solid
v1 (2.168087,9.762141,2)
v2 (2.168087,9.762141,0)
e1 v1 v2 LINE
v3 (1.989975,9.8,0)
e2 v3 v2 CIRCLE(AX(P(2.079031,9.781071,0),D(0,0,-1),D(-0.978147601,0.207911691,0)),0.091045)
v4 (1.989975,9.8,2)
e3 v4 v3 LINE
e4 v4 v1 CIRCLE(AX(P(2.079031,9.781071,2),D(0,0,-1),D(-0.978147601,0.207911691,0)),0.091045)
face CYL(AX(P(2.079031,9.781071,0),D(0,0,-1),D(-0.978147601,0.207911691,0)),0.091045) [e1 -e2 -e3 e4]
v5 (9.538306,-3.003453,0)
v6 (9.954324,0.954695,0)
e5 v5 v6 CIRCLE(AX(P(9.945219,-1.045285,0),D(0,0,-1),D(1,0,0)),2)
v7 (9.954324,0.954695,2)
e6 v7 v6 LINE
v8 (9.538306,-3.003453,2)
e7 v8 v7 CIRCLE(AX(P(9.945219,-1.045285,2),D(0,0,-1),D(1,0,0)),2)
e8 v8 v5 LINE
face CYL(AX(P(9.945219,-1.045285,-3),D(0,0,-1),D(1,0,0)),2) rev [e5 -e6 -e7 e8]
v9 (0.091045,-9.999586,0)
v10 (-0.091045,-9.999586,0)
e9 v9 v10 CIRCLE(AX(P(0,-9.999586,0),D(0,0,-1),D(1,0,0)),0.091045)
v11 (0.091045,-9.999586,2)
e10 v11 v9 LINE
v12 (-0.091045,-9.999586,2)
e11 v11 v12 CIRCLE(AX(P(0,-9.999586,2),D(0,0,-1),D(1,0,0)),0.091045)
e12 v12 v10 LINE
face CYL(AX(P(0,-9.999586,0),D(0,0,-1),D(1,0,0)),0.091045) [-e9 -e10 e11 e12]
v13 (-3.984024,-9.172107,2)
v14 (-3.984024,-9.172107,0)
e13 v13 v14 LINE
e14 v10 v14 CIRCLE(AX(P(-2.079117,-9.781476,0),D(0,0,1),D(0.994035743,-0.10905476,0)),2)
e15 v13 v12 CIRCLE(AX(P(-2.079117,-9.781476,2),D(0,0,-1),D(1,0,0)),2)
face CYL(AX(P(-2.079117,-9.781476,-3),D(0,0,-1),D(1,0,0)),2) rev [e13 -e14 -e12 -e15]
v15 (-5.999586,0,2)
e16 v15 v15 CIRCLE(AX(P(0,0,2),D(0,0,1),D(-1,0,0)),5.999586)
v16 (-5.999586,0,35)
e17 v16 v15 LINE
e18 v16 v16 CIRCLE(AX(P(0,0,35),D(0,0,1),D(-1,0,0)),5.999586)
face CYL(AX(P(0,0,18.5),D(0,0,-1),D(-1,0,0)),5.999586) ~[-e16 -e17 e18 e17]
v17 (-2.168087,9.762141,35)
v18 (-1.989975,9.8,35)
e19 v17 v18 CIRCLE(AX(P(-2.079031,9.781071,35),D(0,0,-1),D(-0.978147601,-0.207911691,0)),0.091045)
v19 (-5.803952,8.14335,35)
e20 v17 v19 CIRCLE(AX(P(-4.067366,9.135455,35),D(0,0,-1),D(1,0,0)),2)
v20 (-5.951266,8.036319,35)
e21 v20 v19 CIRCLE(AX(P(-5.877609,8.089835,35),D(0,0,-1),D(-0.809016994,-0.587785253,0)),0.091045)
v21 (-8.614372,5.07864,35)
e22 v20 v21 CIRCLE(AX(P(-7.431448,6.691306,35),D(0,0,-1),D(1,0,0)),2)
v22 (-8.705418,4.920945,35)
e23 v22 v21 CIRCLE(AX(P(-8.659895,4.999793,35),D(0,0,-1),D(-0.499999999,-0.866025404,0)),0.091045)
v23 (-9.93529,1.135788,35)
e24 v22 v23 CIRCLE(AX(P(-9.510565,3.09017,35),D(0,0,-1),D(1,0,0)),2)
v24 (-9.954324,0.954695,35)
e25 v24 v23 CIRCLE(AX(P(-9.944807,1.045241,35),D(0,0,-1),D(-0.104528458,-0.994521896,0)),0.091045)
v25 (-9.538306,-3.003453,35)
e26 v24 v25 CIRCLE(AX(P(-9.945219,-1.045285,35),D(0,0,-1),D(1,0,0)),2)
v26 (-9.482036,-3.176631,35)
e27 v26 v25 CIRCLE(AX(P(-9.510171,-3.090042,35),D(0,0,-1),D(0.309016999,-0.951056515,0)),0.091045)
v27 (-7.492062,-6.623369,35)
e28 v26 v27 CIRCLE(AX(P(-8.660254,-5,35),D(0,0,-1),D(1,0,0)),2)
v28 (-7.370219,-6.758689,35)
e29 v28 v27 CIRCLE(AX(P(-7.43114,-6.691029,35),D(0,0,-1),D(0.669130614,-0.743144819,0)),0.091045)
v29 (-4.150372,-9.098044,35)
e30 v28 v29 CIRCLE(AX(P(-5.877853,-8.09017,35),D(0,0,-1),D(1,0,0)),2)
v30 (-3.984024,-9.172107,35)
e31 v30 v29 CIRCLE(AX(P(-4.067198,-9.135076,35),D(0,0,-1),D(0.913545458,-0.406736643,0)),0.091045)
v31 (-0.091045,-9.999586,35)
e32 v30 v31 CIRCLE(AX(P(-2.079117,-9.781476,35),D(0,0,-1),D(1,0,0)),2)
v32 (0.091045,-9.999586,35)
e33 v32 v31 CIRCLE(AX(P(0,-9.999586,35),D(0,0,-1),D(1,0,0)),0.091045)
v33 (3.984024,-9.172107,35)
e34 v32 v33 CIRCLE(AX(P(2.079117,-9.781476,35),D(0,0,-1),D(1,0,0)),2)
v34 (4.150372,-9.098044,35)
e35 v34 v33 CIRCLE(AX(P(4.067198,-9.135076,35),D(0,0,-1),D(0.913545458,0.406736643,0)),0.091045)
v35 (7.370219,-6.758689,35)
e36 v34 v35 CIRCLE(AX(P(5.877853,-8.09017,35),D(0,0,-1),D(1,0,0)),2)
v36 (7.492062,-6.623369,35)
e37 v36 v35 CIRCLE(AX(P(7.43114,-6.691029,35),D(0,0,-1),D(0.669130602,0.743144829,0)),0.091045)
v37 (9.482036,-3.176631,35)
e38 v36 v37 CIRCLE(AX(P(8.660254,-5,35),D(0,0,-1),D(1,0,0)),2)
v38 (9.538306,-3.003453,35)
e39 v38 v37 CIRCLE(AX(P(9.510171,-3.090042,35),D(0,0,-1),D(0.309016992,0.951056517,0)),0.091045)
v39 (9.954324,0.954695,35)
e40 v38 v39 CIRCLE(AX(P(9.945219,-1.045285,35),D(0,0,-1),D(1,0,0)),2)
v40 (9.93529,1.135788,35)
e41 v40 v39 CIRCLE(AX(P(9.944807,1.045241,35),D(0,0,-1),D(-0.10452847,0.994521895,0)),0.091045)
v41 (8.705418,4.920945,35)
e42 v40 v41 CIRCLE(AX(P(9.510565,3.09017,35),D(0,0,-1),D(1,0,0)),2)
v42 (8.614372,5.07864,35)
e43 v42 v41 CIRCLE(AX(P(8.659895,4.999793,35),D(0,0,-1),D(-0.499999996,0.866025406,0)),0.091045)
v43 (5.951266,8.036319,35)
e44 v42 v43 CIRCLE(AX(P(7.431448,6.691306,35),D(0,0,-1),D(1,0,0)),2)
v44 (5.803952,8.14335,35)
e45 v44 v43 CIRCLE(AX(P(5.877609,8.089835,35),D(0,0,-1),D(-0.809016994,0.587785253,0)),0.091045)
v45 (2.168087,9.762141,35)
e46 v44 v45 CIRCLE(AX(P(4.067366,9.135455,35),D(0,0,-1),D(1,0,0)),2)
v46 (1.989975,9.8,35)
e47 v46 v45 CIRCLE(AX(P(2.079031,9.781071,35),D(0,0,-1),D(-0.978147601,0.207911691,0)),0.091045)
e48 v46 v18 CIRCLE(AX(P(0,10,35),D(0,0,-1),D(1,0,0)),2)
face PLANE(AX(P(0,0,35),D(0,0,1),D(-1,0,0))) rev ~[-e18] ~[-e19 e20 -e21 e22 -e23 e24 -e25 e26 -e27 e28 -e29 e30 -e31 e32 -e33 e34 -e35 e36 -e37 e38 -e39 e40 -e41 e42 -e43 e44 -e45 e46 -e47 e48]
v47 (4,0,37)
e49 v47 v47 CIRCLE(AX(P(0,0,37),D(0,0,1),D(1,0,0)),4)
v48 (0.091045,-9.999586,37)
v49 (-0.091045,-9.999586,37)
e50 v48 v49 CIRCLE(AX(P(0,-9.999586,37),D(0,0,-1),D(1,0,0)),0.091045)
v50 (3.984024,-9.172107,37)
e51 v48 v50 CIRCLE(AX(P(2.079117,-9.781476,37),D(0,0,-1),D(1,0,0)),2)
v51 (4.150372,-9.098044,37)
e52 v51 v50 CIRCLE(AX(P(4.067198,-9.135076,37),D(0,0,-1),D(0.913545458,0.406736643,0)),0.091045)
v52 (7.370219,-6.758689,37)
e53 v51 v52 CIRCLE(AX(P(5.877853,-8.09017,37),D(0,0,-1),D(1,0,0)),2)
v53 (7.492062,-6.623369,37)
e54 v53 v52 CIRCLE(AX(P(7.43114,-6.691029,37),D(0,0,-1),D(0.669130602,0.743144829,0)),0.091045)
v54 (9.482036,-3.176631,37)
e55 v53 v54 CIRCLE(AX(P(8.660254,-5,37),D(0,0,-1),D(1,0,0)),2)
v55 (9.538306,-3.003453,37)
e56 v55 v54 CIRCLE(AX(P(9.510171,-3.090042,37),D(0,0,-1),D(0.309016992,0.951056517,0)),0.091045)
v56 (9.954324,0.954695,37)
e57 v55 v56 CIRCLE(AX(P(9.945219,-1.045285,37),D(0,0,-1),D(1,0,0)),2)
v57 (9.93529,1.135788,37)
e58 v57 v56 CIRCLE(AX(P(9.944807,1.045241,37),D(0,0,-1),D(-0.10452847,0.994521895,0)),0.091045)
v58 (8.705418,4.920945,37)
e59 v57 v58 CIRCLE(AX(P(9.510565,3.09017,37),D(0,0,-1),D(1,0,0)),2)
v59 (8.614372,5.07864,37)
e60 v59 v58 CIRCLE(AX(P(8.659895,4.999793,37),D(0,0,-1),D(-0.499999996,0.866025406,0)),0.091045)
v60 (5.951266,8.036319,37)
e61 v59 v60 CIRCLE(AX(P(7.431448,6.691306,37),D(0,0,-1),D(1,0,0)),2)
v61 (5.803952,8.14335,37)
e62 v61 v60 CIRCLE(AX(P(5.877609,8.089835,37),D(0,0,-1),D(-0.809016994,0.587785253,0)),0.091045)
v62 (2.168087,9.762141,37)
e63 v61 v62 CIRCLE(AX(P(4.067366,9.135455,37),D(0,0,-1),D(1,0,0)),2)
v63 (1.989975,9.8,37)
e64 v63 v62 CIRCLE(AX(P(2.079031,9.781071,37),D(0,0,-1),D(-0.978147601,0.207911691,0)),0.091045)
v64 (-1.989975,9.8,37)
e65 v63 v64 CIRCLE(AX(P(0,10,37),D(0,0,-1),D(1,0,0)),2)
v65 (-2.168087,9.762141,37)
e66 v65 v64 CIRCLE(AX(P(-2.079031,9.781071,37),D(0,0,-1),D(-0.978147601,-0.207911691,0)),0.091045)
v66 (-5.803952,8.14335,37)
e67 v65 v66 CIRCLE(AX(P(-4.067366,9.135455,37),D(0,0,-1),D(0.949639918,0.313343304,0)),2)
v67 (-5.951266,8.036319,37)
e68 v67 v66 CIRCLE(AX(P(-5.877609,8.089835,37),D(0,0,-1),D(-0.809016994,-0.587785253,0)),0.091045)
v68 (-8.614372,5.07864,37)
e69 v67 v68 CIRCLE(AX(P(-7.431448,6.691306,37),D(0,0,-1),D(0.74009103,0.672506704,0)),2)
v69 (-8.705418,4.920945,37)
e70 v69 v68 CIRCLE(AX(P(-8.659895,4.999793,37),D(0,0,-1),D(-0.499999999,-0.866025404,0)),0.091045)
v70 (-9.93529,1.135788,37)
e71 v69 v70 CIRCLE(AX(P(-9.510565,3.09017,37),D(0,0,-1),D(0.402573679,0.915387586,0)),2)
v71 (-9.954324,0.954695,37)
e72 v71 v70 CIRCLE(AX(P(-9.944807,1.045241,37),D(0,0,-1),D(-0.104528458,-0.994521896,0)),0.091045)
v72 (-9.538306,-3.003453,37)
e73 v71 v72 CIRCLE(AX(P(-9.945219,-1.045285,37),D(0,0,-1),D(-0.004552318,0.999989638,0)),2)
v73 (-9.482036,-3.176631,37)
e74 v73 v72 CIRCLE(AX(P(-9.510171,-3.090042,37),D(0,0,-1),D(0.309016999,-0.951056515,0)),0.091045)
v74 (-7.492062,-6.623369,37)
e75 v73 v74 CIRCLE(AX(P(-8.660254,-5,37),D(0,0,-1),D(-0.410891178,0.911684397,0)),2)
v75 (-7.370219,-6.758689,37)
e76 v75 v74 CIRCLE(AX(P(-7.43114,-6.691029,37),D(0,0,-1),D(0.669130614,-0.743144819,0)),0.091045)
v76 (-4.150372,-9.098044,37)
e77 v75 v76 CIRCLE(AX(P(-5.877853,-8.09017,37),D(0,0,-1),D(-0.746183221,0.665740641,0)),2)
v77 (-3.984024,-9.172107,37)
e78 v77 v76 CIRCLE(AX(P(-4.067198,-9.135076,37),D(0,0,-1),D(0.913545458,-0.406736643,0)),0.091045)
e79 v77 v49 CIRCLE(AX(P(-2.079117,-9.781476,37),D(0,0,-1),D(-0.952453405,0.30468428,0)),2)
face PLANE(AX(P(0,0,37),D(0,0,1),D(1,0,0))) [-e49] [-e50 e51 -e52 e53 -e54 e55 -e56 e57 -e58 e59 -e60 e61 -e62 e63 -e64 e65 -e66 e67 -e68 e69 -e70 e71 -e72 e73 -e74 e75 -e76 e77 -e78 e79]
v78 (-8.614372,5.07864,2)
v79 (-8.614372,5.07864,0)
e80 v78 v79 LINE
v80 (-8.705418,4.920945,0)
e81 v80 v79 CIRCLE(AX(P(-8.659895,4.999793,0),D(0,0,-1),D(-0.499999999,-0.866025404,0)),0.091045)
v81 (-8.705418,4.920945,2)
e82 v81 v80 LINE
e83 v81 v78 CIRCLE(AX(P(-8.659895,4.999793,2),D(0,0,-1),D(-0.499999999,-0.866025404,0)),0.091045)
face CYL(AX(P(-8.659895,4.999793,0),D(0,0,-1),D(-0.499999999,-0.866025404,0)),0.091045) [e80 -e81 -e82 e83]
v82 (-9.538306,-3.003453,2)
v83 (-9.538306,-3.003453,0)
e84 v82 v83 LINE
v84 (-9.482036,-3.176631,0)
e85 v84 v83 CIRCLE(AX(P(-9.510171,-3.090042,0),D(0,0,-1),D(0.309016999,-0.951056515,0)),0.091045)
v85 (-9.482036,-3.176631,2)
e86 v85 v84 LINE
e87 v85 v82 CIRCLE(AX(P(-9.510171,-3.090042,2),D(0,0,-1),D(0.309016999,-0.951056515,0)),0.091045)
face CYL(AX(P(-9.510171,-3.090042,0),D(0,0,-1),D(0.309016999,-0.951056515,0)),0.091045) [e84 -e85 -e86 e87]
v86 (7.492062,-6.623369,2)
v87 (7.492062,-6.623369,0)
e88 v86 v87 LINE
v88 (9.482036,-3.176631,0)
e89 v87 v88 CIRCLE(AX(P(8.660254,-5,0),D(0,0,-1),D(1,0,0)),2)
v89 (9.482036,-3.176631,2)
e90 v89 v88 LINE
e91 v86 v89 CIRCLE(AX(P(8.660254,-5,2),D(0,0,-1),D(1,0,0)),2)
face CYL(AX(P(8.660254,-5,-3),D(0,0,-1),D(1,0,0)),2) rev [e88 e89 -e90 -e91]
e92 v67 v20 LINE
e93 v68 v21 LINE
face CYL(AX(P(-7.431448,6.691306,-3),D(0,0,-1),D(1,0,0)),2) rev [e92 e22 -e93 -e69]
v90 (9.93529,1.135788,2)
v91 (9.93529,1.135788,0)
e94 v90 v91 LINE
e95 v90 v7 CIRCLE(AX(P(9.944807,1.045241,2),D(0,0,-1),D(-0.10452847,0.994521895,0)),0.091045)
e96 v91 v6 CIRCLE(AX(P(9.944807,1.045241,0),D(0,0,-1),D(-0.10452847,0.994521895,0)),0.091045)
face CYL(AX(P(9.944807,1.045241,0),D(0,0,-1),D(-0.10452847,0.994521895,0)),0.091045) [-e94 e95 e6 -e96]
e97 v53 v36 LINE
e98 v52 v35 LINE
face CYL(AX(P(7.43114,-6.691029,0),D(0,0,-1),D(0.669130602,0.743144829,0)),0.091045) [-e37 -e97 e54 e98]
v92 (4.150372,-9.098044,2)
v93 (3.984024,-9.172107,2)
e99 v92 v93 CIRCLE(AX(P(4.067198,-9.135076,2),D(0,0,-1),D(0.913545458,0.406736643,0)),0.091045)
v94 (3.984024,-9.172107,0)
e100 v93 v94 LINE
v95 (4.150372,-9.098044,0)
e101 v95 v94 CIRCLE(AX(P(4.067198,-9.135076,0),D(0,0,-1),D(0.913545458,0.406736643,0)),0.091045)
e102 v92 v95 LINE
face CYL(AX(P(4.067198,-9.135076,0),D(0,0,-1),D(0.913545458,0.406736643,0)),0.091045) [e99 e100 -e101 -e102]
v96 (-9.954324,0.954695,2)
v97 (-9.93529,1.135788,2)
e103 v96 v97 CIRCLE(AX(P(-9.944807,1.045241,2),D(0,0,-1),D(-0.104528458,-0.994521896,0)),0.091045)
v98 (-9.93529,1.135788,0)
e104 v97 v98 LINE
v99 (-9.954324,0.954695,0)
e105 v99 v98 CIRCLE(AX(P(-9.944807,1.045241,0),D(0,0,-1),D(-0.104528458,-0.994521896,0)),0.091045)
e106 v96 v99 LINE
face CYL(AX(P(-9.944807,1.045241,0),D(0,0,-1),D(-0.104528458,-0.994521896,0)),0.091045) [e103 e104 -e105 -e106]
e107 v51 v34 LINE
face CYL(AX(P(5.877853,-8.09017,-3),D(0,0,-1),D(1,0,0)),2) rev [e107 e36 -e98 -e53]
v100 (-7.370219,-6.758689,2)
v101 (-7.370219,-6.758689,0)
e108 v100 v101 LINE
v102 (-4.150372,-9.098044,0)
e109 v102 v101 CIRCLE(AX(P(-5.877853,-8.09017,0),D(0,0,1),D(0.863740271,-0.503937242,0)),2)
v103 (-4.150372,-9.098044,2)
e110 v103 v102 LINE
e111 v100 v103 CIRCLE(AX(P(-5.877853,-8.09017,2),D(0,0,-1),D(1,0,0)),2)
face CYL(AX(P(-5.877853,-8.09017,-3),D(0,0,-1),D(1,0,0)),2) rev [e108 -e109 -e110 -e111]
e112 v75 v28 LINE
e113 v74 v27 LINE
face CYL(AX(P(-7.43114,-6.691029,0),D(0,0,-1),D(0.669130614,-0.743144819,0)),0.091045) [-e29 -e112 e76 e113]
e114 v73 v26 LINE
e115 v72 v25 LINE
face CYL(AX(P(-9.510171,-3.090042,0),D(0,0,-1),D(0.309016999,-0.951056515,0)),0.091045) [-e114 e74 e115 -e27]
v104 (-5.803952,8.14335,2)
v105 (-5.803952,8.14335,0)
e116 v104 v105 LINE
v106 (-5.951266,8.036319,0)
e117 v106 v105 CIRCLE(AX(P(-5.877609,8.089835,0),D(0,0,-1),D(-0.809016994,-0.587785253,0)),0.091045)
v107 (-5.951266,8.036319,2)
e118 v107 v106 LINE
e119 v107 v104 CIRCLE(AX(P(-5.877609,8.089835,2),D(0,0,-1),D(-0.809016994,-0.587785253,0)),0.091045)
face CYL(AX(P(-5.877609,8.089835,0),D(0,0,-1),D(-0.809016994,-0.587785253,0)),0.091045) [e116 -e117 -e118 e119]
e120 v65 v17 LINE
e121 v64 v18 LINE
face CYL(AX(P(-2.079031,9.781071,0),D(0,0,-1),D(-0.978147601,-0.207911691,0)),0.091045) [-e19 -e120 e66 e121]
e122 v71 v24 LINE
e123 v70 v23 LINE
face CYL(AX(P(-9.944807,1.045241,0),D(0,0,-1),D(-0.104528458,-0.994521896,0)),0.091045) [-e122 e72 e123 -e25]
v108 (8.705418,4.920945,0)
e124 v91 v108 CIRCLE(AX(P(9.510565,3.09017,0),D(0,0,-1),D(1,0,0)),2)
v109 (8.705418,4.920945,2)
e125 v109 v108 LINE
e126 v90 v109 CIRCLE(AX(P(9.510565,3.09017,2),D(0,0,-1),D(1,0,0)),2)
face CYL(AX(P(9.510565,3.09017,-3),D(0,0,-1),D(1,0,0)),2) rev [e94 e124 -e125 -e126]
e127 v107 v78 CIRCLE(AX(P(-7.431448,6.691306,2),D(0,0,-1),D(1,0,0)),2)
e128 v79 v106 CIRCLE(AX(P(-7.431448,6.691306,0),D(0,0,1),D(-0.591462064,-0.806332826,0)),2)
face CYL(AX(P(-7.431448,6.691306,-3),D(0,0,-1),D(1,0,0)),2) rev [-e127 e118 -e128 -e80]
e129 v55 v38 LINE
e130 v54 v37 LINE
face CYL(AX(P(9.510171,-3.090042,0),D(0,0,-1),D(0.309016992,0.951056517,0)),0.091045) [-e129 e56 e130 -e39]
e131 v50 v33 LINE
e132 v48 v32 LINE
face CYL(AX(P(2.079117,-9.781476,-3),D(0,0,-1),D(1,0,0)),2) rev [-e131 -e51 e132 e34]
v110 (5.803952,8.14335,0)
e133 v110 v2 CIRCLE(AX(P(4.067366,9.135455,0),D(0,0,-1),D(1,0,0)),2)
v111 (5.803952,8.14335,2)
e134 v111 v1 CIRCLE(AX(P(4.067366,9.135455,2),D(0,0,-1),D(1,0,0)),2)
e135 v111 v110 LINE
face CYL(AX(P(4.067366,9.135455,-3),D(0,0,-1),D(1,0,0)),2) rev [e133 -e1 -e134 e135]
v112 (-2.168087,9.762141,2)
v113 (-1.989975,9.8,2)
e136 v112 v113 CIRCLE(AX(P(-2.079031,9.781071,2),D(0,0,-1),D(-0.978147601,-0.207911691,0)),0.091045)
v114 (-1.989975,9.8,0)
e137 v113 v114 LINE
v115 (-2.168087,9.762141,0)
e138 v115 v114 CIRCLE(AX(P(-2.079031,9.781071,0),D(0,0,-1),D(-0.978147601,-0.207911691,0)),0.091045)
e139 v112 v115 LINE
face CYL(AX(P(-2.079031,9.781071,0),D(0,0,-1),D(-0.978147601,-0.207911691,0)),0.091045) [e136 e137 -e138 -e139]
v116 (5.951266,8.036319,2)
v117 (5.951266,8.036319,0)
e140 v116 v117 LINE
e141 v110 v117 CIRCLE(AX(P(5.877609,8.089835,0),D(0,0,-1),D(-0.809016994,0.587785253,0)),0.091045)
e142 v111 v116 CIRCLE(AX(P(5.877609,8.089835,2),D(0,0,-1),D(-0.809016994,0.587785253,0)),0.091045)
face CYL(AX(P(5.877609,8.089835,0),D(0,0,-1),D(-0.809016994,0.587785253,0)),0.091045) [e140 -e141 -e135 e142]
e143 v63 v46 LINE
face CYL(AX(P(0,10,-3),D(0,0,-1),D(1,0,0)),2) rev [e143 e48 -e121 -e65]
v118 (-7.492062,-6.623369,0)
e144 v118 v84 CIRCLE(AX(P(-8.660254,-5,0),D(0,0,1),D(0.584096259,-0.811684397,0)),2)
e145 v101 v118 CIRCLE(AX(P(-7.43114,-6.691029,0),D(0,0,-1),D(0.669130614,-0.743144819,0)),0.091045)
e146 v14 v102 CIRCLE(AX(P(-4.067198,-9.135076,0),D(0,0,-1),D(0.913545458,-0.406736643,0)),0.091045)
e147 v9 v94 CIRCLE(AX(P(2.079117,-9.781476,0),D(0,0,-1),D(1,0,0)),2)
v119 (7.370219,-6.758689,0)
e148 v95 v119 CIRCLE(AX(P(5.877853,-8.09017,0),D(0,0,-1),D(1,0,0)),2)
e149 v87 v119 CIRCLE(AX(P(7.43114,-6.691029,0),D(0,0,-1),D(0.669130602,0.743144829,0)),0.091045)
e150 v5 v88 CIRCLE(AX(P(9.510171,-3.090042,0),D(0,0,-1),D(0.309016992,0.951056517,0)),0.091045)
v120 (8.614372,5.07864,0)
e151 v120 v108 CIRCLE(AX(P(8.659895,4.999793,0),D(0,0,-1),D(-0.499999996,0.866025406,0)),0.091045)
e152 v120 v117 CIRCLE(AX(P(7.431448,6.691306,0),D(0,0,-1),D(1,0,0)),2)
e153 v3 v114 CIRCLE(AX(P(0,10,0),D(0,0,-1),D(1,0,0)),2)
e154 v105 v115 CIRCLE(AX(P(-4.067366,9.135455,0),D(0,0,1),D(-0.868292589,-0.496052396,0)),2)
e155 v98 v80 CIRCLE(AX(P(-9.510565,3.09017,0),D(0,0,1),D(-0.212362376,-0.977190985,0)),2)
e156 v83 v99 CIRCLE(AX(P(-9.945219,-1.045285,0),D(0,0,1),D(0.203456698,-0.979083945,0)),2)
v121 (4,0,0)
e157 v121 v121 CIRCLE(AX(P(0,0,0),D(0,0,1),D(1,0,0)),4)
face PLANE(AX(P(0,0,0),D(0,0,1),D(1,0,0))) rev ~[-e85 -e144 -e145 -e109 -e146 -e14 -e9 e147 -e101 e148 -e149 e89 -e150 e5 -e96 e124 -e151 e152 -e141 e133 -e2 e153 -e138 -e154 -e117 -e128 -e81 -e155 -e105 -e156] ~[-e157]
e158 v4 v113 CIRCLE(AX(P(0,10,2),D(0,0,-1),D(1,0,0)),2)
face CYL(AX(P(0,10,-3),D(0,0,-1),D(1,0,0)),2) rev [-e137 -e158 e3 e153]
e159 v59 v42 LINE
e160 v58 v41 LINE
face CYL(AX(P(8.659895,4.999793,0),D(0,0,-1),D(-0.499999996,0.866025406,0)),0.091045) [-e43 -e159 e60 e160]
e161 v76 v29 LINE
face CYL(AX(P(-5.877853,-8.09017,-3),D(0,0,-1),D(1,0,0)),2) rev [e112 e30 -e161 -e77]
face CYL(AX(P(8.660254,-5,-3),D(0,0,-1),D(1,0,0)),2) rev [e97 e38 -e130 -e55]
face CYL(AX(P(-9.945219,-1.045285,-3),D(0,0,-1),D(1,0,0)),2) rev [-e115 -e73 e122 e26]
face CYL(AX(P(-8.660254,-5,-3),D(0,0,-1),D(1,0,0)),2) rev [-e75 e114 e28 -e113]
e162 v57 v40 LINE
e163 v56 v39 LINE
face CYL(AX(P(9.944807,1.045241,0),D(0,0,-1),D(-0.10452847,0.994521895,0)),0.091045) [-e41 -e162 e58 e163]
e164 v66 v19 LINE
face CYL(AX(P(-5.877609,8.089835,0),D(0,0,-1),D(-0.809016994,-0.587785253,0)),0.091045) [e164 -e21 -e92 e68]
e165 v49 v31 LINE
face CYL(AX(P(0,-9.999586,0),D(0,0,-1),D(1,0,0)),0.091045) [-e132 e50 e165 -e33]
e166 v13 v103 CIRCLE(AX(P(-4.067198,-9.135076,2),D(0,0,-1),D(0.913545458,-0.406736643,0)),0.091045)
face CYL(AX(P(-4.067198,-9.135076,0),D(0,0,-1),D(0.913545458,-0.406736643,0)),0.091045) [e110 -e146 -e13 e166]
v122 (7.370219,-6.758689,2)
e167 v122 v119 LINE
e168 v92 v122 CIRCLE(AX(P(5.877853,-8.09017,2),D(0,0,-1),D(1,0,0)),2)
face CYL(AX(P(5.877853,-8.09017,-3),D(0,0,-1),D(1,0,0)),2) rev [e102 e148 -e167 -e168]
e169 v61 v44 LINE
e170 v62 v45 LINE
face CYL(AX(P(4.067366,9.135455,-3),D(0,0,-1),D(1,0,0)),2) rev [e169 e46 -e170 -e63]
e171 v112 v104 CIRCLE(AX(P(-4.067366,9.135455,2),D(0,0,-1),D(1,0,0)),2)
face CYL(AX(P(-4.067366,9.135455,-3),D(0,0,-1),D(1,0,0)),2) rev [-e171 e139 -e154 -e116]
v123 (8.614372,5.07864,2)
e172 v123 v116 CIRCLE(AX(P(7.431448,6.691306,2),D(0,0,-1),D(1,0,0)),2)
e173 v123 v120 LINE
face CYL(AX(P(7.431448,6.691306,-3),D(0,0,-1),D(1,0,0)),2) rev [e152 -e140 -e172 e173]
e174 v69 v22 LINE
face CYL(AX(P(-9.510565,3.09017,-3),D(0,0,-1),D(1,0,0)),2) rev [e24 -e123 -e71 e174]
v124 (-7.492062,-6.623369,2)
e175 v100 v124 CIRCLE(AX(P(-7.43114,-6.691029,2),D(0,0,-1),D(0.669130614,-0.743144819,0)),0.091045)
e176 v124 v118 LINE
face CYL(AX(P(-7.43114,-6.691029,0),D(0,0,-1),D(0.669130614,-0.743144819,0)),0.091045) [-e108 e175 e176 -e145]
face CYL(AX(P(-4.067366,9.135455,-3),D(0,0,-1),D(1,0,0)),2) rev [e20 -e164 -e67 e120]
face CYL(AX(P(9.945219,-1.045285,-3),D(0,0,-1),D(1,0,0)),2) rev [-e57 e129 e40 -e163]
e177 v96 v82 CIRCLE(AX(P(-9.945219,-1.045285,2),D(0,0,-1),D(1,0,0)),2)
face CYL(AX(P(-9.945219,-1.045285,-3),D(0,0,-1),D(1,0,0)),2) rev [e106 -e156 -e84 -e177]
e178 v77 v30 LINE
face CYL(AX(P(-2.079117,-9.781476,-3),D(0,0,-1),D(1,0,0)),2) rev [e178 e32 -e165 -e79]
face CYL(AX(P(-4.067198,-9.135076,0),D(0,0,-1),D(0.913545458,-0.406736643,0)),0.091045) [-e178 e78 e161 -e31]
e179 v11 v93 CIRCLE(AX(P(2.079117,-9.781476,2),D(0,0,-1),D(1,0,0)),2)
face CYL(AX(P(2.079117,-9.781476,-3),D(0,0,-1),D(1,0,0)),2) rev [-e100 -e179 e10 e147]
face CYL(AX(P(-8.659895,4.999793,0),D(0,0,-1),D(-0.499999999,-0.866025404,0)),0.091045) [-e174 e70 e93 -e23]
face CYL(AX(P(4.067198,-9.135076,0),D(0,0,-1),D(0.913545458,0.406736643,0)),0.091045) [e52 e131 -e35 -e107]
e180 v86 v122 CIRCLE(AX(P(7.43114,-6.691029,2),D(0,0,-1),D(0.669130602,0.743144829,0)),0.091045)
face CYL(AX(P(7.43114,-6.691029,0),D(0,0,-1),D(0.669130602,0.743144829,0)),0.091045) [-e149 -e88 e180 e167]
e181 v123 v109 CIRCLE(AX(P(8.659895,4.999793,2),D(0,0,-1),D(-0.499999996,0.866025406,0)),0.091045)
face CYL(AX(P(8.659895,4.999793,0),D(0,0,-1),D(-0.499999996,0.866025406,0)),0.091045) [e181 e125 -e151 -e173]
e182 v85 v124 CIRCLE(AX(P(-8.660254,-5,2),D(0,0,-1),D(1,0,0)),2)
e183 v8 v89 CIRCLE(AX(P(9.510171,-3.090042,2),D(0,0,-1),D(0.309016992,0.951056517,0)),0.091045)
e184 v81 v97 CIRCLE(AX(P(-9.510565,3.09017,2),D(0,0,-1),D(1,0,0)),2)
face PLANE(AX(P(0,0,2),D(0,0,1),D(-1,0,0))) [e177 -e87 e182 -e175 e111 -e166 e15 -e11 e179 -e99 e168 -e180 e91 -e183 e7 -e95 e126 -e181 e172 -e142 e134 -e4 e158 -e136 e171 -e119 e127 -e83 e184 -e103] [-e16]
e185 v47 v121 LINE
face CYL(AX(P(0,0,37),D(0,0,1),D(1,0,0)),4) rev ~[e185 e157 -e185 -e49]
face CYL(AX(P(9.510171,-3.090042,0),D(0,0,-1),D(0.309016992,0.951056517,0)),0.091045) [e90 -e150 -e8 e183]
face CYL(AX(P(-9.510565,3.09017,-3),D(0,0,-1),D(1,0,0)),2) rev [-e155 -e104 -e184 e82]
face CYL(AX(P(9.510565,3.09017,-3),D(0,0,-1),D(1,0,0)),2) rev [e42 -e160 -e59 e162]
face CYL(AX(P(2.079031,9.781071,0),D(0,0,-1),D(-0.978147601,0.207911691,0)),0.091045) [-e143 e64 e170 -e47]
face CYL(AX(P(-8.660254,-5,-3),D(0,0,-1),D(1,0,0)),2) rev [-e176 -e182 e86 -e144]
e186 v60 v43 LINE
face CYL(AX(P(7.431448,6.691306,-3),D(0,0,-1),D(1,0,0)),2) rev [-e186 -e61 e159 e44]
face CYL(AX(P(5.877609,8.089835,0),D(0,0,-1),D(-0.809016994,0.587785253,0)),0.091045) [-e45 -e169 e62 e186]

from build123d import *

# Parameters (mm, degrees)
SKETCH1_R               = 10
BOSS_EXTRUDE1_DEPTH     = 37
CUT_EXTRUDE1_DEPTH      = 10
CUT_EXTRUDE1_DEPTH_BACK = 40
SKETCH2_R               = 2
BOSS_EXTRUDE3_DEPTH     = 37
SKETCH4_R               = 4
CUT_EXTRUDE2_DEPTH      = 40
SKETCH6_W               = 33
SKETCH6_H               = 6.863237298


with BuildPart() as part:
    # Sketch1 → Boss-Extrude1 (new body)
    with BuildSketch(Plane.XY):
        Circle(SKETCH1_R)
    extrude(amount=BOSS_EXTRUDE1_DEPTH)

    # Sketch2 → Cut-Extrude1 (cut, two sides: drawn at the far end of the back side and taken through both)
    with BuildSketch(Plane.XY.offset(37).offset(-CUT_EXTRUDE1_DEPTH_BACK)):
        with Locations((0, 10)):
            Circle(SKETCH2_R)
        with Locations((4.067366431, 9.135454576)):
            Circle(SKETCH2_R)
        with Locations((7.431448255, 6.691306064)):
            Circle(SKETCH2_R)
        with Locations((9.510565163, 3.090169944)):
            Circle(SKETCH2_R)
        with Locations((9.945218954, -1.045284633)):
            Circle(SKETCH2_R)
        with Locations((8.660254038, -5)):
            Circle(SKETCH2_R)
        with Locations((5.877852523, -8.090169944)):
            Circle(SKETCH2_R)
        with Locations((2.079116908, -9.781476007)):
            Circle(SKETCH2_R)
        with Locations((-2.079116908, -9.781476007)):
            Circle(SKETCH2_R)
        with Locations((-5.877852523, -8.090169944)):
            Circle(SKETCH2_R)
        with Locations((-8.660254038, -5)):
            Circle(SKETCH2_R)
        with Locations((-9.945218954, -1.045284633)):
            Circle(SKETCH2_R)
        with Locations((-9.510565163, 3.090169944)):
            Circle(SKETCH2_R)
        with Locations((-7.431448255, 6.691306064)):
            Circle(SKETCH2_R)
        with Locations((-4.067366431, 9.135454576)):
            Circle(SKETCH2_R)
    extrude(amount=CUT_EXTRUDE1_DEPTH + CUT_EXTRUDE1_DEPTH_BACK, mode=Mode.SUBTRACT)

    # Sketch3 → Boss-Extrude3 (add)
    with BuildSketch(Plane.XY):
        with BuildLine():
            Line((2.168086595, 9.762141185), (1.989974874, 9.8))
            ThreePointArc((1.989974874, 9.8), (2.097960142, 9.870126453), (2.168086595, 9.762141185))
        make_face()
        with BuildLine():
            Line((5.951266195, 8.036319473), (5.803951609, 8.143349785))
            ThreePointArc((5.803951609, 8.143349785), (5.931124058, 8.163491922), (5.951266195, 8.036319473))
        make_face()
        with BuildLine():
            Line((8.705417805, 4.920945116), (8.614372384, 5.078640412))
            ThreePointArc((8.614372384, 5.078640412), (8.738742742, 5.045315475), (8.705417805, 4.920945116))
        make_face()
        with BuildLine():
            Line((9.95432359, 0.954694644), (9.935289914, 1.135787973))
            ThreePointArc((9.935289914, 1.135787973), (10.035353417, 1.054758147), (9.95432359, 0.954694644))
        make_face()
        with BuildLine():
            Line((9.482036394, -3.176631206), (9.538305559, -3.003452524))
            ThreePointArc((9.538305559, -3.003452524), (9.596760318, -3.118176447), (9.482036394, -3.176631206))
        make_face()
        with BuildLine():
            Line((7.370218964, -6.758688661), (7.49206152, -6.623368794))
            ThreePointArc((7.49206152, -6.623368794), (7.498800176, -6.751950006), (7.370218964, -6.758688661))
        make_face()
        with BuildLine():
            Line((3.984023719, -9.172107446), (4.150371981, -9.098044428))
            ThreePointArc((4.150371981, -9.098044428), (4.104229359, -9.218250068), (3.984023719, -9.172107446))
        make_face()
        with BuildLine():
            Line((-0.091045421, -9.999585528), (0.091045421, -9.999585528))
            ThreePointArc((0.091045421, -9.999585528), (0, -10.090630949), (-0.091045421, -9.999585528))
        make_face()
        with BuildLine():
            Line((-4.150371981, -9.098044428), (-3.984023719, -9.172107446))
            ThreePointArc((-3.984023719, -9.172107446), (-4.104229359, -9.218250068), (-4.150371981, -9.098044428))
        make_face()
        with BuildLine():
            Line((-7.49206152, -6.623368794), (-7.370218964, -6.758688661))
            ThreePointArc((-7.370218964, -6.758688661), (-7.498800176, -6.751950006), (-7.49206152, -6.623368794))
        make_face()
        with BuildLine():
            Line((-9.538305559, -3.003452524), (-9.482036394, -3.176631206))
            ThreePointArc((-9.482036394, -3.176631206), (-9.596760318, -3.118176447), (-9.538305559, -3.003452524))
        make_face()
        with BuildLine():
            Line((-9.935289914, 1.135787973), (-9.95432359, 0.954694644))
            ThreePointArc((-9.95432359, 0.954694644), (-10.035353417, 1.054758147), (-9.935289914, 1.135787973))
        make_face()
        with BuildLine():
            Line((-8.614372384, 5.078640412), (-8.705417805, 4.920945116))
            ThreePointArc((-8.705417805, 4.920945116), (-8.738742742, 5.045315475), (-8.614372384, 5.078640412))
        make_face()
        with BuildLine():
            Line((-5.803951609, 8.143349785), (-5.951266195, 8.036319473))
            ThreePointArc((-5.951266195, 8.036319473), (-5.931124058, 8.163491922), (-5.803951609, 8.143349785))
        make_face()
        with BuildLine():
            Line((-1.989974874, 9.8), (-2.168086595, 9.762141185))
            ThreePointArc((-2.168086595, 9.762141185), (-2.097960142, 9.870126453), (-1.989974874, 9.8))
        make_face()
    extrude(amount=BOSS_EXTRUDE3_DEPTH)

    # Sketch4 → Cut-Extrude2 (cut)
    with BuildSketch(Plane.XY.offset(37)):
        Circle(SKETCH4_R)
    extrude(amount=-CUT_EXTRUDE2_DEPTH, mode=Mode.SUBTRACT)

    # Sketch6 → Cut-Revolve7 (revolve, cut)
    with BuildSketch(Plane(origin=(0, 0, 0), x_dir=(0, 0, -1), z_dir=(1, 0, 0)), mode=Mode.PRIVATE) as cut_revolve7_sk:
        with Locations((-18.5, -9.431204177)):
            Rectangle(SKETCH6_W, SKETCH6_H)
    revolve(cut_revolve7_sk.sketch.rotate(Axis((0, 0, 10.741005804), (0, 0, 1)), 270), axis=Axis((0, 0, 10.741005804), (0, 0, 1)), mode=Mode.SUBTRACT)


solid = part.part
